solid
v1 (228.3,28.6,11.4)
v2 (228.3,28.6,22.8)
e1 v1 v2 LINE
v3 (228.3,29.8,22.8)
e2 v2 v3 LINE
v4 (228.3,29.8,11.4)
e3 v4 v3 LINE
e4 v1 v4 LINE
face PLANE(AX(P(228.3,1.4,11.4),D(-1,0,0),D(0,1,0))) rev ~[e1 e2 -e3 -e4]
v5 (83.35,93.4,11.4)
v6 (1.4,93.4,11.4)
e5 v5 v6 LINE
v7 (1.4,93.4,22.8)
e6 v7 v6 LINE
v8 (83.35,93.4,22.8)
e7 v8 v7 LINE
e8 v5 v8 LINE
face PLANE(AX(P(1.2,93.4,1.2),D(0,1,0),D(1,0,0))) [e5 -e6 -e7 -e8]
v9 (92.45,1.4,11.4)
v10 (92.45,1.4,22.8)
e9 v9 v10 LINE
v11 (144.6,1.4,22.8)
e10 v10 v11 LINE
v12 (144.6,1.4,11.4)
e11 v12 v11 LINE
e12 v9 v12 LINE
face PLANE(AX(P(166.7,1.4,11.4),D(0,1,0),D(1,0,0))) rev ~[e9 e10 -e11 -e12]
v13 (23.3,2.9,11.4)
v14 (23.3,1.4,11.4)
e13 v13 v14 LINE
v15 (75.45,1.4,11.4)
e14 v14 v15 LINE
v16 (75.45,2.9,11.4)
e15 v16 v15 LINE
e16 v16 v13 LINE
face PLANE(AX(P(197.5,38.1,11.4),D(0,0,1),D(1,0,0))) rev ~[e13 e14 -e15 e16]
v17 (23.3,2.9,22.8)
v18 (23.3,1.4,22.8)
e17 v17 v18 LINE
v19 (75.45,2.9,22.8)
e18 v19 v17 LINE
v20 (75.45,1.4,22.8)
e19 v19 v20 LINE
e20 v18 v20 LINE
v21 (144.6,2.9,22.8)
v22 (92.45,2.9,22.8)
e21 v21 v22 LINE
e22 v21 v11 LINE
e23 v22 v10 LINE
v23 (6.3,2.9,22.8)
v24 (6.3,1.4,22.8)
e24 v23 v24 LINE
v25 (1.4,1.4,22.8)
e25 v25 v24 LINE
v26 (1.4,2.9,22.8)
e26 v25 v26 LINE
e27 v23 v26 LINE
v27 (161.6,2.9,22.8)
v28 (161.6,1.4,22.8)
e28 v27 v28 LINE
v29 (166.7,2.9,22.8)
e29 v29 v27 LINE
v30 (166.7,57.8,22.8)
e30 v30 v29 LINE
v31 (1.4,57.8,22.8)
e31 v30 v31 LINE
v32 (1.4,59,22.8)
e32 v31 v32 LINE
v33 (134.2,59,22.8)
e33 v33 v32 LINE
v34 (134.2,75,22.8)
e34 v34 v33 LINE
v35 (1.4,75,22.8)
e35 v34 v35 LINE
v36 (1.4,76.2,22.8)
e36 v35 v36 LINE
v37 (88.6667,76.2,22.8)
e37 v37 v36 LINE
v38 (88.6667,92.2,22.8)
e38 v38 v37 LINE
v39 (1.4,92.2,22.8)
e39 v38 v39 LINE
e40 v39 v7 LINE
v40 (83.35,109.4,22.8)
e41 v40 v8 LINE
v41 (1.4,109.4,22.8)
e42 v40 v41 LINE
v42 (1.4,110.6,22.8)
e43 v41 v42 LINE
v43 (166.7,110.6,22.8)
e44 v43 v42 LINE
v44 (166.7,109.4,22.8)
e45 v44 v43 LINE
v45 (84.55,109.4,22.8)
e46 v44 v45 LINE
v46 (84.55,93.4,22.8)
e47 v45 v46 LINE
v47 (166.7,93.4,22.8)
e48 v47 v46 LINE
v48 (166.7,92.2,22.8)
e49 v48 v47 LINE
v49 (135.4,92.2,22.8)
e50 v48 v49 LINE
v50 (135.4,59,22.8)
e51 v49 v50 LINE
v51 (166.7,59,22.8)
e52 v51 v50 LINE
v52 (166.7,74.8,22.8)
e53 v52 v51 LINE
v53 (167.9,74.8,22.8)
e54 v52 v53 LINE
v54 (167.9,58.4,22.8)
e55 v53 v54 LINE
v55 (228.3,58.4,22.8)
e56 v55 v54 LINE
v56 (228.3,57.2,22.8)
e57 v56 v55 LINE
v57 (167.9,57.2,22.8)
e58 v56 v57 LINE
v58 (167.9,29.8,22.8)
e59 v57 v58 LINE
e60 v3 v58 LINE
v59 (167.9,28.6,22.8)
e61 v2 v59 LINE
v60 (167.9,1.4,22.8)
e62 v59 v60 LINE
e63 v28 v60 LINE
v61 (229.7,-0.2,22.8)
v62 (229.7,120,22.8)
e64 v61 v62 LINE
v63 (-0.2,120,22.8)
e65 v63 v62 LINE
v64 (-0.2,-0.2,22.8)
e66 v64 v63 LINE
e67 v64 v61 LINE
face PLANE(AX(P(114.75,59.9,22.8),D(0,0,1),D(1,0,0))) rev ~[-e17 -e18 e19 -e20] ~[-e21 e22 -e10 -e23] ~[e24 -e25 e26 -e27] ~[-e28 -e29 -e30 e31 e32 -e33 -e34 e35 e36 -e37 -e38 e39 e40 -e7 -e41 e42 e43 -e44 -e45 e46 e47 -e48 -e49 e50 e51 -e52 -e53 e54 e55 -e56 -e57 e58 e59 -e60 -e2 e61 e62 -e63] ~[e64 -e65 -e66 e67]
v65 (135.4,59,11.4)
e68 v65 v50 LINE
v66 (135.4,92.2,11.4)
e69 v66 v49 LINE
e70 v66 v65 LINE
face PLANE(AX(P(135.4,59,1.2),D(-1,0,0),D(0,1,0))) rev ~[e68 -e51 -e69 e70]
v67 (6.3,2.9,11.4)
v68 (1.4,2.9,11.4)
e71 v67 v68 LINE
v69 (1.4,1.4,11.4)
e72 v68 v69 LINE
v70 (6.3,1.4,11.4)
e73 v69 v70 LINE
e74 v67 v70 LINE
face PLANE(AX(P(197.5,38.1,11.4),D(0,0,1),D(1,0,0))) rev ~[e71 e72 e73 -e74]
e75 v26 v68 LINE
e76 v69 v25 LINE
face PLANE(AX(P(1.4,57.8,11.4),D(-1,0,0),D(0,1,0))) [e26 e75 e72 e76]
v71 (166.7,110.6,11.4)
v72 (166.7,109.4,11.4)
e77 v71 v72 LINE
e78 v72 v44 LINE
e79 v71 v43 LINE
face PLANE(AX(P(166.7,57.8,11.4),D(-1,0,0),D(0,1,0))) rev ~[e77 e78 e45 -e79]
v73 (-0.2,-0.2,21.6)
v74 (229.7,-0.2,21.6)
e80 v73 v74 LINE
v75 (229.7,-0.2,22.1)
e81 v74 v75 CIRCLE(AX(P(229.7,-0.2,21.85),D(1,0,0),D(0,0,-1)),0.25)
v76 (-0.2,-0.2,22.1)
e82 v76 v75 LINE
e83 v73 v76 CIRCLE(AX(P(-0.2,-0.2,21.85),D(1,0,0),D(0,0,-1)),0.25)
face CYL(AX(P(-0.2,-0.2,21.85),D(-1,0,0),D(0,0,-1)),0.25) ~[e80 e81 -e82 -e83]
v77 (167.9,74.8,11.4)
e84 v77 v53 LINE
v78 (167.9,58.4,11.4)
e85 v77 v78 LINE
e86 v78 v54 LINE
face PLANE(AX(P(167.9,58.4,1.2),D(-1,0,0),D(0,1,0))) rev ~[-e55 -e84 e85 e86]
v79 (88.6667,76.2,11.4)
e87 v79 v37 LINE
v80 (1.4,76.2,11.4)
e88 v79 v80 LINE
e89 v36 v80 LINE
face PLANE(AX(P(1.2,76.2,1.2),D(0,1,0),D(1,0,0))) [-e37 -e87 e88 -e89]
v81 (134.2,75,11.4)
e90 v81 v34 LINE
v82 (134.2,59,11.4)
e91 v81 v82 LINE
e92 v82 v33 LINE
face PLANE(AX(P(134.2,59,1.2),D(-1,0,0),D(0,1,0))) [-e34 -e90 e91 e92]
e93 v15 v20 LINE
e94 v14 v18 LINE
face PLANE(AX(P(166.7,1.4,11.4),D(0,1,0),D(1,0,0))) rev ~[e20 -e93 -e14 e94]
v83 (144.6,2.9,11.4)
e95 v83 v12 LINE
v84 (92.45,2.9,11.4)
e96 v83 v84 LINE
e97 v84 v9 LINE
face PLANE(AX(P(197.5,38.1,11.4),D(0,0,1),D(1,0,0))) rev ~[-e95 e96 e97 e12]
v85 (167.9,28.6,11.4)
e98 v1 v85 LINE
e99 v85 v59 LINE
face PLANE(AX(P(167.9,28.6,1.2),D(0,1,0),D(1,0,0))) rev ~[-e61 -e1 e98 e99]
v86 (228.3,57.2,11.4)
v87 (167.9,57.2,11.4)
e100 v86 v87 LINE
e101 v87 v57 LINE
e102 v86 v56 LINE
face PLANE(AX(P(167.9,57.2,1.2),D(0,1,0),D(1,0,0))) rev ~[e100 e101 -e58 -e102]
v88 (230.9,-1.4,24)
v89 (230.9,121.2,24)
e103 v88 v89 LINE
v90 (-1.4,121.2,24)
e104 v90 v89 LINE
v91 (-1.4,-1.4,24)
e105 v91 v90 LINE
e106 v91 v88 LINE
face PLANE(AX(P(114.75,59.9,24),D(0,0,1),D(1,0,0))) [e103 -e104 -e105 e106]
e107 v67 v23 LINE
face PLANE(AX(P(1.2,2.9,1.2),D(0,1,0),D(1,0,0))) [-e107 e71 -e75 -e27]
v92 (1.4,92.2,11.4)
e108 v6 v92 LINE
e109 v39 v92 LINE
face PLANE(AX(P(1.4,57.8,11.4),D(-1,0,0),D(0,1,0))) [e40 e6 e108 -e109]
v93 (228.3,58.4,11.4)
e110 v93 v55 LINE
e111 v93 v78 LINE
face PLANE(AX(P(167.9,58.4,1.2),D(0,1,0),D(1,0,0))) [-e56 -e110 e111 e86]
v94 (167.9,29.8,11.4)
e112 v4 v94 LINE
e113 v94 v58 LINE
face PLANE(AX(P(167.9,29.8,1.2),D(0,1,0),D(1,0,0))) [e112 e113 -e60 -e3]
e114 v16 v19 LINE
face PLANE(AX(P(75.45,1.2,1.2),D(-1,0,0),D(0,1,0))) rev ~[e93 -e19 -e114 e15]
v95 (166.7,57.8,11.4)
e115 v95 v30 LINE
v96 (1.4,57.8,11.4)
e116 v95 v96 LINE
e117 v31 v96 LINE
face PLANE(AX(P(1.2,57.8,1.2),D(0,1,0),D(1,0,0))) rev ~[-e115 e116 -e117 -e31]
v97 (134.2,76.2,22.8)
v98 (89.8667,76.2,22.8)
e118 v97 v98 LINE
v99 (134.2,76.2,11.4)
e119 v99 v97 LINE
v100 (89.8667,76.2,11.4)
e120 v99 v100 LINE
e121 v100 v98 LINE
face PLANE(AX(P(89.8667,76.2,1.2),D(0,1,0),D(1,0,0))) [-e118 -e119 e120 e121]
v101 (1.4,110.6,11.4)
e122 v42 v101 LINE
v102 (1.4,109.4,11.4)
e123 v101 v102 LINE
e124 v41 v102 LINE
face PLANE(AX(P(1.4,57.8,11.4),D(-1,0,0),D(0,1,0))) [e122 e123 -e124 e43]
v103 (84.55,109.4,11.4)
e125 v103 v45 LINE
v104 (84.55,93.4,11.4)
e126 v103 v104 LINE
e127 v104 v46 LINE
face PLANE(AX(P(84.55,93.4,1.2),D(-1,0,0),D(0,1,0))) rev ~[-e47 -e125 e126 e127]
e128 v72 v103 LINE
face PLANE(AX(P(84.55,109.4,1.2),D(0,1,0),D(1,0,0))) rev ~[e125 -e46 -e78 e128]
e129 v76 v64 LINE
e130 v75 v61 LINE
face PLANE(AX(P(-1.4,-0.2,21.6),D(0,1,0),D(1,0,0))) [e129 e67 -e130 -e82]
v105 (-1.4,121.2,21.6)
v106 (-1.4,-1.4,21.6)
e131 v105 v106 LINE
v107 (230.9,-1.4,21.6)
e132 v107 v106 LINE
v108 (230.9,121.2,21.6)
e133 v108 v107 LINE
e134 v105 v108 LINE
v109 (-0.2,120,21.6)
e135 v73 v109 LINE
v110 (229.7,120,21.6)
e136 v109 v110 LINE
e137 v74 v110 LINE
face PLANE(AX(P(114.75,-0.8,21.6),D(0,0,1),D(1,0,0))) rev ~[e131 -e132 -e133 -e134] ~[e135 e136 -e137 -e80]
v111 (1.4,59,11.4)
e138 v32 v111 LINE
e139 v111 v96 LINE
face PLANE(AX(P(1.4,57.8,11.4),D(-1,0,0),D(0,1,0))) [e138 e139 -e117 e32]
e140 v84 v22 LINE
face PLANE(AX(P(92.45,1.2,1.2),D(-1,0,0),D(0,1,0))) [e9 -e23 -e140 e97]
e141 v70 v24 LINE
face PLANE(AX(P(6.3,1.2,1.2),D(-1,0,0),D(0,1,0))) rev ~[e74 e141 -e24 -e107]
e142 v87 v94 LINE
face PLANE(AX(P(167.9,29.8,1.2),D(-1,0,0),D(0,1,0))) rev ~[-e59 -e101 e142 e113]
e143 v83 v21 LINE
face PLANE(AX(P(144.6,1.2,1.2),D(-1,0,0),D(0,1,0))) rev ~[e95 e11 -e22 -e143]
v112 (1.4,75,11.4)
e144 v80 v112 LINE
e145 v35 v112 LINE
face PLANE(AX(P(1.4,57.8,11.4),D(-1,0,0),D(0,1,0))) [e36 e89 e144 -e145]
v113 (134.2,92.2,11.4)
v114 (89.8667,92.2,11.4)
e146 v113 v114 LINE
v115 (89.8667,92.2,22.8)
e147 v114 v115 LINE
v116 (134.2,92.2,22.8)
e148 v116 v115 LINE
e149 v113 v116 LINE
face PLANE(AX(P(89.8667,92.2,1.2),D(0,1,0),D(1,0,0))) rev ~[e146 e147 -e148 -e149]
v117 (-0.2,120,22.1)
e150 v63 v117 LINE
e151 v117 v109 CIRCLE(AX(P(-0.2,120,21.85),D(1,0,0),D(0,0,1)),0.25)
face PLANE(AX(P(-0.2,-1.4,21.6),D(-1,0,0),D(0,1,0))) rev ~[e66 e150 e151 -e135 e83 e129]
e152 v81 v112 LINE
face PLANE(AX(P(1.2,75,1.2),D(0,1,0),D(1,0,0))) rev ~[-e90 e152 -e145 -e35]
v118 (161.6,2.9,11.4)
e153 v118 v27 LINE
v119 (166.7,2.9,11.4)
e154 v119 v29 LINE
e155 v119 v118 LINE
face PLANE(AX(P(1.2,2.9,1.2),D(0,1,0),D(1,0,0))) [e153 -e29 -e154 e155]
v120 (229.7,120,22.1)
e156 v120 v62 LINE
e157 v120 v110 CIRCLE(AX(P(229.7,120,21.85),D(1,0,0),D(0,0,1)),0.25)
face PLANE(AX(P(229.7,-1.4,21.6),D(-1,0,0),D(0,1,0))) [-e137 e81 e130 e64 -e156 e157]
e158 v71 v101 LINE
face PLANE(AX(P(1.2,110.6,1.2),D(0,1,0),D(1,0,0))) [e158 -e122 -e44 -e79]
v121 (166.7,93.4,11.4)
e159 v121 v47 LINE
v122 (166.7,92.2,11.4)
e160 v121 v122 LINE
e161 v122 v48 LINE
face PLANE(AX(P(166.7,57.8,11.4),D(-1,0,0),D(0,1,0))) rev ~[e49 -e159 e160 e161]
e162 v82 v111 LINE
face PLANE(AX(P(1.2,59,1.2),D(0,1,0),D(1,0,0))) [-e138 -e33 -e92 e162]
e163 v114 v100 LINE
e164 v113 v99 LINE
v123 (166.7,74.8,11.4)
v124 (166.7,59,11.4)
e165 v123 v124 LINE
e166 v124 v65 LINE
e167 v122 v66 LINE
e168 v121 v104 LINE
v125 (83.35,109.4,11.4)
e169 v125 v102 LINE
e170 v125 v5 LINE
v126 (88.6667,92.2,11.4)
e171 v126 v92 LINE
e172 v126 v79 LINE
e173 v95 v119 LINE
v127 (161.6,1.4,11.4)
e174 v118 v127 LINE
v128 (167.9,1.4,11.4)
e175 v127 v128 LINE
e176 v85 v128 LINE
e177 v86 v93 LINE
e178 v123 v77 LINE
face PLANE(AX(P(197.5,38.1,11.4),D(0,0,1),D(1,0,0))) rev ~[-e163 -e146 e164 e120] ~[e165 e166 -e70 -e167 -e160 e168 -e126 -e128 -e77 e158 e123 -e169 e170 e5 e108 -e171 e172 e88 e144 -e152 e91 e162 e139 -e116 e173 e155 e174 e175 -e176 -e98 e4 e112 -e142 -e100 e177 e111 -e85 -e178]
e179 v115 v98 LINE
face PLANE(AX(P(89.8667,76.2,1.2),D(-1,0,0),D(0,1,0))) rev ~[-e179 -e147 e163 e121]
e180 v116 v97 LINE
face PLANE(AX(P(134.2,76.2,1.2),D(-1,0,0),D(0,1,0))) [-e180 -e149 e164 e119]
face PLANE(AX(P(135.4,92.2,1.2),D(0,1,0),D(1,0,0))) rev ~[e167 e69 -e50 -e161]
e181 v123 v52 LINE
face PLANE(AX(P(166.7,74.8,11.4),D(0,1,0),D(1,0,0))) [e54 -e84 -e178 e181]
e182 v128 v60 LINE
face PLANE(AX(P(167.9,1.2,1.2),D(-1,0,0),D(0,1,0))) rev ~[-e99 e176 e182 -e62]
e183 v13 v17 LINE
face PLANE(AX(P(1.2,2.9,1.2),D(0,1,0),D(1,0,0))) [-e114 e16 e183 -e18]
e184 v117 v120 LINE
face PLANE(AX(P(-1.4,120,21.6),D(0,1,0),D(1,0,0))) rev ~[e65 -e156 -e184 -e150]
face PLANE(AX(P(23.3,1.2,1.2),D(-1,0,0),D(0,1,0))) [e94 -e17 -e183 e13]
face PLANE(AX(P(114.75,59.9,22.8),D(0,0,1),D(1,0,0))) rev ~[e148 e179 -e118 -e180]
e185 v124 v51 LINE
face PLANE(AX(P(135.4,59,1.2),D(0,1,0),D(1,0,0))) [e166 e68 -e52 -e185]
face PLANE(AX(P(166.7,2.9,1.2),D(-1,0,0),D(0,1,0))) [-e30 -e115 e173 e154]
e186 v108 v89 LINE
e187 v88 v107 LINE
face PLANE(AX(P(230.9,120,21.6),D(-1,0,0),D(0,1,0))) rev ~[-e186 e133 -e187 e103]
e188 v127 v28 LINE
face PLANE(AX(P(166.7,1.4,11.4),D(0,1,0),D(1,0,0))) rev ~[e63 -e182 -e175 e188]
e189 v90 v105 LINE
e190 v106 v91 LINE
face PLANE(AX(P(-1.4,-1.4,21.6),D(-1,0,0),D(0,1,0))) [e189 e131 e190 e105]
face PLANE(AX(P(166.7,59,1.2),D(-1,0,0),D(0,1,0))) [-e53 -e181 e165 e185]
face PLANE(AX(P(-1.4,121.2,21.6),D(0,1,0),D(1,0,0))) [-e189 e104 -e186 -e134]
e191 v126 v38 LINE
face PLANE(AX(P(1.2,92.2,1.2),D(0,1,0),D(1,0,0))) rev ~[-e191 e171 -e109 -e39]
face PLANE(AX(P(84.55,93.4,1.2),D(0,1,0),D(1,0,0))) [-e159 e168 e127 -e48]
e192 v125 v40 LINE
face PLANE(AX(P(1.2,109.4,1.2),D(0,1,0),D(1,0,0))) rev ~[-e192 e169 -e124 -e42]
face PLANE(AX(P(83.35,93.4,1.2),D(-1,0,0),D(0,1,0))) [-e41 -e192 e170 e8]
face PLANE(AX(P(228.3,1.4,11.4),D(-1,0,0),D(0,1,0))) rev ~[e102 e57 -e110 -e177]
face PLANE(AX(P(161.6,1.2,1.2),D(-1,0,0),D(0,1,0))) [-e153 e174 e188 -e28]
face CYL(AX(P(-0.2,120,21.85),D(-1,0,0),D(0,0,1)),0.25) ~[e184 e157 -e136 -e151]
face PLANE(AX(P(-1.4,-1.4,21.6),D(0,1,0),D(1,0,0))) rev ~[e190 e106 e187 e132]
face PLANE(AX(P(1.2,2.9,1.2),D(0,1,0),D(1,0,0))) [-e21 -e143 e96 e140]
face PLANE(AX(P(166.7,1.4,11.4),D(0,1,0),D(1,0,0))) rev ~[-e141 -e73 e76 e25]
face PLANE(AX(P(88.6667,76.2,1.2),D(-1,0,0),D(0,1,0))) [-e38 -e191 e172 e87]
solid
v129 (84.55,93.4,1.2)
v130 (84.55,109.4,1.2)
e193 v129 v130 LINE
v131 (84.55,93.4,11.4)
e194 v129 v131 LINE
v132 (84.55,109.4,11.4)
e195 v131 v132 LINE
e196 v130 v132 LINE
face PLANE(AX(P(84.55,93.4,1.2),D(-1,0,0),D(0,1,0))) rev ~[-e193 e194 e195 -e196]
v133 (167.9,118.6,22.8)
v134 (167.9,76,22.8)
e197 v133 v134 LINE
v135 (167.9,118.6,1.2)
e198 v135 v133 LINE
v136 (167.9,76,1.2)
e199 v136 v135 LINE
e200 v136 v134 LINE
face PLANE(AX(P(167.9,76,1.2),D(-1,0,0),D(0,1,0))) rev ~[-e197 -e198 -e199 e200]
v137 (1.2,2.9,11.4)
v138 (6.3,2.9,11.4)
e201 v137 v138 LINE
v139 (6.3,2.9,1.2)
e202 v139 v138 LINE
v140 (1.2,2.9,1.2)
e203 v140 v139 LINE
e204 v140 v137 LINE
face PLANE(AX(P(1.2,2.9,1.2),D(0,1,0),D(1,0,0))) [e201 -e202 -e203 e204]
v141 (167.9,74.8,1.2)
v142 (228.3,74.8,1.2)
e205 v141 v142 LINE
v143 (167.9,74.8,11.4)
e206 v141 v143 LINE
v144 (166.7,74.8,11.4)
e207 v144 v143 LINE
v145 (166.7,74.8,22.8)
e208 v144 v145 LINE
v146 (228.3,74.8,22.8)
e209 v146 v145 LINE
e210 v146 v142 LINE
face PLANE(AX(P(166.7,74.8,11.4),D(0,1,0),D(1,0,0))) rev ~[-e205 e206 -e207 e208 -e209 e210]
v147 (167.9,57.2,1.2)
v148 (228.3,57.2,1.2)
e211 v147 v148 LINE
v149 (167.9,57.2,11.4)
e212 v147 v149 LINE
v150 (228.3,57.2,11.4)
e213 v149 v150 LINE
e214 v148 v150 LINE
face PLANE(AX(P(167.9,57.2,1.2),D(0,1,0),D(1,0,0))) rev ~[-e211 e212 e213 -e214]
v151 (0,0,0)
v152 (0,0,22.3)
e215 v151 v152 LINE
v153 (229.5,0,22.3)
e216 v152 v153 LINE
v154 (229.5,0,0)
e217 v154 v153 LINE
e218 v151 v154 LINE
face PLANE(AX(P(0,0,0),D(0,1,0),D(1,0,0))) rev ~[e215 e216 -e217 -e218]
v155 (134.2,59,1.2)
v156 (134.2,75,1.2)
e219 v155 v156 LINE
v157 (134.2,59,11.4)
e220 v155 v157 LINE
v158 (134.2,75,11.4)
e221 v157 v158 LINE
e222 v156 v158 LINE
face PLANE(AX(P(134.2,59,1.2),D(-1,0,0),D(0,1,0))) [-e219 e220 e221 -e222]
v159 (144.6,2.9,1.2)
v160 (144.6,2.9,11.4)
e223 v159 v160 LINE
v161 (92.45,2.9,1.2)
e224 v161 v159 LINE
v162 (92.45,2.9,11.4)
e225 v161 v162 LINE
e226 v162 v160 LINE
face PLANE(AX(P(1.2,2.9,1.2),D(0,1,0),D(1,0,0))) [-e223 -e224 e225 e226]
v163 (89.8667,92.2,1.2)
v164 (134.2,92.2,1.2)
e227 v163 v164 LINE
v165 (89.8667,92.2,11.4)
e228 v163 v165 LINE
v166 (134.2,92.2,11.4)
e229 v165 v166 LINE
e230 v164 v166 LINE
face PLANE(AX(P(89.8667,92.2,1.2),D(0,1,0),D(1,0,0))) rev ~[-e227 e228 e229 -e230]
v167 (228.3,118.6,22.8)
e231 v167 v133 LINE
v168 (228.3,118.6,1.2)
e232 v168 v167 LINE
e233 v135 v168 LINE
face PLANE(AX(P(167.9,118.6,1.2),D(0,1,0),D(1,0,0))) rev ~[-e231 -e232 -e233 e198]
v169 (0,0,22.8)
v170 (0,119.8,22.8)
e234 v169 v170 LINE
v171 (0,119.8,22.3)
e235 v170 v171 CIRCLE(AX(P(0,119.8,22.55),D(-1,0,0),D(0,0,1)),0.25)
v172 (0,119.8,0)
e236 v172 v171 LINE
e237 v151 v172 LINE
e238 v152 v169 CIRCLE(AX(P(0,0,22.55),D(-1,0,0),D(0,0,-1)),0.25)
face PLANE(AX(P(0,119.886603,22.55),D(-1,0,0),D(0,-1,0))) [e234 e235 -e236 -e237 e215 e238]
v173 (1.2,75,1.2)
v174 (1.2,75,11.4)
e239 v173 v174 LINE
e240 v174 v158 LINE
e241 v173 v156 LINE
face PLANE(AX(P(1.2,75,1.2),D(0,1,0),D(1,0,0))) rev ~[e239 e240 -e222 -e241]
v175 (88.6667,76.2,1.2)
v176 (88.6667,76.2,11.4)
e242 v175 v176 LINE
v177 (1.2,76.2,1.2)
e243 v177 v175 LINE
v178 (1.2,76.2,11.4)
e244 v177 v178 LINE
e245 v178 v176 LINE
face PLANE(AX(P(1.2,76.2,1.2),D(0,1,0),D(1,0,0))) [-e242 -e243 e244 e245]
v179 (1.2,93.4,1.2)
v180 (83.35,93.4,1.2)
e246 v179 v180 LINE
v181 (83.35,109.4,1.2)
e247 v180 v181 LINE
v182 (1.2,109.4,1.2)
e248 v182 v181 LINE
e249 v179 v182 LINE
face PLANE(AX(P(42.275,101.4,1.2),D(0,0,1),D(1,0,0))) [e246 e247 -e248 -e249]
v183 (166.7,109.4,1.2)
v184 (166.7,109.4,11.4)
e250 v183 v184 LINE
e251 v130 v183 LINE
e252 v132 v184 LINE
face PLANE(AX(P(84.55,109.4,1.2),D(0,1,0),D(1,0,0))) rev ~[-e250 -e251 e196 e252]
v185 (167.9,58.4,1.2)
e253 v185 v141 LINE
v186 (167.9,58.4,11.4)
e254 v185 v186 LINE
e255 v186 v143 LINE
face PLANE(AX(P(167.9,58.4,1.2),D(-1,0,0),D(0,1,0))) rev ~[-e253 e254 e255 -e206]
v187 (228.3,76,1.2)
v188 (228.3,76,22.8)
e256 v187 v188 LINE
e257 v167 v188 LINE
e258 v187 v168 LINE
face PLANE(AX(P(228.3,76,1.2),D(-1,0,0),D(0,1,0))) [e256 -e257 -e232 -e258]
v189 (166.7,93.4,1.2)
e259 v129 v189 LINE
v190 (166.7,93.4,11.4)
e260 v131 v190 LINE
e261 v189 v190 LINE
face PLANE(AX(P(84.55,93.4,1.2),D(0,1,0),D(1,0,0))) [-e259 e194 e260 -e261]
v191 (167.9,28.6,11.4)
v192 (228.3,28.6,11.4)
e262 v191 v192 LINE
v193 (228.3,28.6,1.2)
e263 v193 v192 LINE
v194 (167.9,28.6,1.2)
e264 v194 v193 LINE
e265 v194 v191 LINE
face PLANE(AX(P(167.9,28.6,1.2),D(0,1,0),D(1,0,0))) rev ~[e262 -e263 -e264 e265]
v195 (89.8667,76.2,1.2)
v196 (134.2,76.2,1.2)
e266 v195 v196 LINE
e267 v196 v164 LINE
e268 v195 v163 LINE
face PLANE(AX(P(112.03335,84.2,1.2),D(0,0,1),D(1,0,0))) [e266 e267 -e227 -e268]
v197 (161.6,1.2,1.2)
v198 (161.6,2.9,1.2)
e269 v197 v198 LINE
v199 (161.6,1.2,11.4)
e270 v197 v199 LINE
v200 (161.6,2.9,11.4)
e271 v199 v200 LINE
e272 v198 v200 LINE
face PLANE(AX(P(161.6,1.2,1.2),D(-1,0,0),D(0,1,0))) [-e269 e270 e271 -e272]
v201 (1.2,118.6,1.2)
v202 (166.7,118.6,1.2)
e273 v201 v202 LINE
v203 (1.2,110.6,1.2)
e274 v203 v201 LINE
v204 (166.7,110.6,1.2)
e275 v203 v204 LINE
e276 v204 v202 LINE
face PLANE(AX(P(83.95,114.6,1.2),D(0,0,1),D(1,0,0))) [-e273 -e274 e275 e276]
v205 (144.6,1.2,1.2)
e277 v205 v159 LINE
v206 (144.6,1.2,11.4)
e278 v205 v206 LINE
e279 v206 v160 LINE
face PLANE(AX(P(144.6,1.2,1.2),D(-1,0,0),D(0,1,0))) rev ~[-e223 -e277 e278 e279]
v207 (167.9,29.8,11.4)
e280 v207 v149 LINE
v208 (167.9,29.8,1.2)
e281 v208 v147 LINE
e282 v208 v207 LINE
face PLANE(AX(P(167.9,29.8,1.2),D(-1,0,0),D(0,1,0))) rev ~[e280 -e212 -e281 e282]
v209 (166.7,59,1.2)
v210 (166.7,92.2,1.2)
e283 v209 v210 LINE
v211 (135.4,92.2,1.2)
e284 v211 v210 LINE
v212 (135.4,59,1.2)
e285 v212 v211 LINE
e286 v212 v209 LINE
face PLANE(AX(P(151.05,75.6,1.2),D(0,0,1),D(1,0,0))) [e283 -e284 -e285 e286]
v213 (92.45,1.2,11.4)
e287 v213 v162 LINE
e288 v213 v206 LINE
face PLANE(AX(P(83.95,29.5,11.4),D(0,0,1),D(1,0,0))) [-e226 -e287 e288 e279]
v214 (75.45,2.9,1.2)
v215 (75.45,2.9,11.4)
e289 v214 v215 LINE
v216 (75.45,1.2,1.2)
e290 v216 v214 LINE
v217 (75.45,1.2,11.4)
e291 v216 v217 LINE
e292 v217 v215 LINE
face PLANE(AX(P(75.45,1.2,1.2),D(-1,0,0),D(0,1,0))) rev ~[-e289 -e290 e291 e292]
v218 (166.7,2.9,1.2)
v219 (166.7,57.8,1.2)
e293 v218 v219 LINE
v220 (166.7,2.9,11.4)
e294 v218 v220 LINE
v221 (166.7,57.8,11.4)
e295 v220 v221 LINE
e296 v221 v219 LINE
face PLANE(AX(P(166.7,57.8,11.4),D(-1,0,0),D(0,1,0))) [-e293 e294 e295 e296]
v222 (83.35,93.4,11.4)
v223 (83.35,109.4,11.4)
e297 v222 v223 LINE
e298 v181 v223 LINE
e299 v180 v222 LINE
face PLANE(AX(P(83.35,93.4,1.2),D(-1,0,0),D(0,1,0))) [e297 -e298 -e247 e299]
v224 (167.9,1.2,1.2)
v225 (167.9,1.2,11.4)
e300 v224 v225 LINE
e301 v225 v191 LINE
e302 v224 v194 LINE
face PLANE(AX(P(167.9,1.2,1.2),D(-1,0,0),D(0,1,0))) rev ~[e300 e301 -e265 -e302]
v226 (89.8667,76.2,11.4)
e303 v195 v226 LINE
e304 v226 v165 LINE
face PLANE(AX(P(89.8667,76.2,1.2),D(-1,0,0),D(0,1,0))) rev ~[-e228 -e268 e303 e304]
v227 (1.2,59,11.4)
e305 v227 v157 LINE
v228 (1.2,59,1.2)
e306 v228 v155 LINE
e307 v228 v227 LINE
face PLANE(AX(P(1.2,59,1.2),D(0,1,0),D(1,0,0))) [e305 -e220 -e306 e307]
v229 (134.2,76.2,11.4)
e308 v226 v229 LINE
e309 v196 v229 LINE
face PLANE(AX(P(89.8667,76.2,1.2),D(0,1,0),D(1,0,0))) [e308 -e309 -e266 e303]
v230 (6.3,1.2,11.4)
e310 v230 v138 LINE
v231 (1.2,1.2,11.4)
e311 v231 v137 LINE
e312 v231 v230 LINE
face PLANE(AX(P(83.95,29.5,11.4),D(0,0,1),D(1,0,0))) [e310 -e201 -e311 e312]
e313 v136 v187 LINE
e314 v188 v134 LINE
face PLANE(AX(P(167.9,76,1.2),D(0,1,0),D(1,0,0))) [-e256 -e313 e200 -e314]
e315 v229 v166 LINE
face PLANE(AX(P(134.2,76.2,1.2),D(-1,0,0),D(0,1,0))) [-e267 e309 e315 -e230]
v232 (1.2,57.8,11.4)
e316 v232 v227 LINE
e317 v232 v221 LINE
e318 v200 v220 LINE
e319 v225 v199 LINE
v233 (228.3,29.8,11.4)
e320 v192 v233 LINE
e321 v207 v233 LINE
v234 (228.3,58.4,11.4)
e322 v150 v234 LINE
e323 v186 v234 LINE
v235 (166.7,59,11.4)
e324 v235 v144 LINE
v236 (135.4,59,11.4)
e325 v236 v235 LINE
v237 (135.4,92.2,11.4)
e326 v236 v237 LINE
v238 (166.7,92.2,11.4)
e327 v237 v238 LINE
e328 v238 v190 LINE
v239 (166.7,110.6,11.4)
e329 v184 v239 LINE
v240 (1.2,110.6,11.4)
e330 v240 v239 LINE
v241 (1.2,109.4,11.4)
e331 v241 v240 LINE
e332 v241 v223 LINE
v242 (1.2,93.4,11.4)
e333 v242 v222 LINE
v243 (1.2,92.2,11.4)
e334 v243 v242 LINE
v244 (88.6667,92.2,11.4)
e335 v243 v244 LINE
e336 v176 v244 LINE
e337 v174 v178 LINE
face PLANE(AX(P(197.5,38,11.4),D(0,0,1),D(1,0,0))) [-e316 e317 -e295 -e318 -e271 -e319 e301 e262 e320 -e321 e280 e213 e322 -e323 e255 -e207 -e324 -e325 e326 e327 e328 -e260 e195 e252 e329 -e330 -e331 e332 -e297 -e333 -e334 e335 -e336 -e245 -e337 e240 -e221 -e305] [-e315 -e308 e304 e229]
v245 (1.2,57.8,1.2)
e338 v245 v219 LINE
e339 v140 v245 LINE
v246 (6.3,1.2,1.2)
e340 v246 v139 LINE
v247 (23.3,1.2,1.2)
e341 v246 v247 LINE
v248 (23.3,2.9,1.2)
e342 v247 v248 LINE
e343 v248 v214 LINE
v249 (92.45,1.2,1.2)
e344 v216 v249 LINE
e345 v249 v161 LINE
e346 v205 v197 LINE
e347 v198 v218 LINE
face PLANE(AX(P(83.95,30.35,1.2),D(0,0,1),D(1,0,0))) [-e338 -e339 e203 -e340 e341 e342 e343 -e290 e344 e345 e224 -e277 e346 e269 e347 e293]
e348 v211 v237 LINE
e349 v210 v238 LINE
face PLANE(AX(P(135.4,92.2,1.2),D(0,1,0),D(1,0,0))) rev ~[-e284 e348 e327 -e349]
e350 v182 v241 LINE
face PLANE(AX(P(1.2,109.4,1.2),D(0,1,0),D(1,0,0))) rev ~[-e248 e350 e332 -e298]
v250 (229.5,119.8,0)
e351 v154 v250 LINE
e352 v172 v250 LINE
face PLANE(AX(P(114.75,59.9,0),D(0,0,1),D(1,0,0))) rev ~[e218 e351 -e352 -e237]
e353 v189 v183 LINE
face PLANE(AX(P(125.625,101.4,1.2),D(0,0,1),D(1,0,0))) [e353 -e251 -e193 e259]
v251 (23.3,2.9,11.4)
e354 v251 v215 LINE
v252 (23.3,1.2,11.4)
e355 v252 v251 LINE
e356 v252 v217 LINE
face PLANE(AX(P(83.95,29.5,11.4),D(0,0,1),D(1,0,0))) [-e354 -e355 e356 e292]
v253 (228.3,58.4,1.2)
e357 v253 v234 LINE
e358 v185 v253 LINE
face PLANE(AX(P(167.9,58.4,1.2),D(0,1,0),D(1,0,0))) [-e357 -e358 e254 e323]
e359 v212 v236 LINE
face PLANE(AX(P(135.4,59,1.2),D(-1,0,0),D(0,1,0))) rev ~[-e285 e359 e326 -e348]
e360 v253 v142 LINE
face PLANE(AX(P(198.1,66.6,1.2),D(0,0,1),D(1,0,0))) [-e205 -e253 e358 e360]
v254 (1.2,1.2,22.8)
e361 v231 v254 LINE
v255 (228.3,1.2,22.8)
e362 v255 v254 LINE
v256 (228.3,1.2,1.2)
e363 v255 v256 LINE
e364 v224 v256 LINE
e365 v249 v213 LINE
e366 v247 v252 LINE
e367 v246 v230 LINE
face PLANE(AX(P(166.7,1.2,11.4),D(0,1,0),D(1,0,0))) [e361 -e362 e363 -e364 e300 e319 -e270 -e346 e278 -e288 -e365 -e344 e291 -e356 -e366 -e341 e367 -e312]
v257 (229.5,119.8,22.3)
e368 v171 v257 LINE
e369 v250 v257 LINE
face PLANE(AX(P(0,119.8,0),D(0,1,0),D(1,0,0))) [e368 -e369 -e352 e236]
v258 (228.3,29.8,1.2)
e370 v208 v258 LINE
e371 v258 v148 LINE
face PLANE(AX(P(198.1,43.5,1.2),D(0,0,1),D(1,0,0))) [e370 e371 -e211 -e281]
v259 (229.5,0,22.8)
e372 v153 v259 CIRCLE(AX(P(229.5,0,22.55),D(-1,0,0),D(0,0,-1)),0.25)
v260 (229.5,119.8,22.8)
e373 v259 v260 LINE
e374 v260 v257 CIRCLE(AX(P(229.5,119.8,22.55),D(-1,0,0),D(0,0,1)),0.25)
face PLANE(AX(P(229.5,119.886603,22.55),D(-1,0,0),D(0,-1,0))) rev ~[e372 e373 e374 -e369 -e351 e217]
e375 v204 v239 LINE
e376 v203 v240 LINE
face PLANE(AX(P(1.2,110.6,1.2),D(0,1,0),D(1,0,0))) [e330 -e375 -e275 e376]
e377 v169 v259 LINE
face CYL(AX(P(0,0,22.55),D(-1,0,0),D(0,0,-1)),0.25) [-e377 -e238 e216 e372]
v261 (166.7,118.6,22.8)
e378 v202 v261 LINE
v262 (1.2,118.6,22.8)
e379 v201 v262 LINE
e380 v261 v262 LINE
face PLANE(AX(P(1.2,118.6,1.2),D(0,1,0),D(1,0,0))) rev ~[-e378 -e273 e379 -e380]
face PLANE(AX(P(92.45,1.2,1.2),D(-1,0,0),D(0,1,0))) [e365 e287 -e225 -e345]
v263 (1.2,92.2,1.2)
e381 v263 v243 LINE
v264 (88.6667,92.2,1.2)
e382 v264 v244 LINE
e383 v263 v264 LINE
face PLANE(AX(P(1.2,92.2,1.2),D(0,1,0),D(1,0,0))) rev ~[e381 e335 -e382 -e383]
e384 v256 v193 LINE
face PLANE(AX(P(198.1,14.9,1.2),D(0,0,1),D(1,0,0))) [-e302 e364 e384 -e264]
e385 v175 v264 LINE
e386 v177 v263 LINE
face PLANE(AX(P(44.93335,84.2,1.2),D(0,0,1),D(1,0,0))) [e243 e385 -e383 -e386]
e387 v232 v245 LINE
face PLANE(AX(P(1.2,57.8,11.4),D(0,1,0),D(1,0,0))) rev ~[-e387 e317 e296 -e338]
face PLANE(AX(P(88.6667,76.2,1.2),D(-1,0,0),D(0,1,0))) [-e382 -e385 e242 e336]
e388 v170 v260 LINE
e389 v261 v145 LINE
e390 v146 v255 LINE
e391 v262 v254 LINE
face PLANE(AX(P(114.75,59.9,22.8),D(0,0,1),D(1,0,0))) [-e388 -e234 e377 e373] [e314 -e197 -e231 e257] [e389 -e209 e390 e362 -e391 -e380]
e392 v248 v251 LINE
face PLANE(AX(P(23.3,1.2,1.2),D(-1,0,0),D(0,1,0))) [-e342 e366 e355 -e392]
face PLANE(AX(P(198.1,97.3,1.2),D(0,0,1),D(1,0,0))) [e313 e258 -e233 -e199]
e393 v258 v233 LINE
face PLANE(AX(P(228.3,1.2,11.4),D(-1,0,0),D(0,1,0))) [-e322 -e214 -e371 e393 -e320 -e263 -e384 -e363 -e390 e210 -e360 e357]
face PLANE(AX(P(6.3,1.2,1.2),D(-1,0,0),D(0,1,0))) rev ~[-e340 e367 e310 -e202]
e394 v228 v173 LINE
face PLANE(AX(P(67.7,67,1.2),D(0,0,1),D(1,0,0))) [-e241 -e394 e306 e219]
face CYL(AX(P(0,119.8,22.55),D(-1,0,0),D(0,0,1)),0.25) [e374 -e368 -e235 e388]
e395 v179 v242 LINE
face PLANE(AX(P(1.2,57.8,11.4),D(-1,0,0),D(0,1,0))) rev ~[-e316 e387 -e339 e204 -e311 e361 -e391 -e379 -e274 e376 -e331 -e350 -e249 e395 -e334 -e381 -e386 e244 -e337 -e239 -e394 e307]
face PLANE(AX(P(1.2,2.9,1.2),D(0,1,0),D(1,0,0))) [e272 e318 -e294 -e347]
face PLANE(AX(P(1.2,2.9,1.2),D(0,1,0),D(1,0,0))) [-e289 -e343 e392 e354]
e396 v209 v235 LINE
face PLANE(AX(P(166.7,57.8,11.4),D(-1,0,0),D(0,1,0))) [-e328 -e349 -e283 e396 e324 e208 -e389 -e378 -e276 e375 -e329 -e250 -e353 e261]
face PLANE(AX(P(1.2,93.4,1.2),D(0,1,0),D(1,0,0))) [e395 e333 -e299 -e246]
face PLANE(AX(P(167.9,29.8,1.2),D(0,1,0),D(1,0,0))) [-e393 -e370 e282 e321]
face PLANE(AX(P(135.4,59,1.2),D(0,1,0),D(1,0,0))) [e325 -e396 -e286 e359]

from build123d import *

# Parameters (mm, degrees)
EXTRUDE_DEPTH    = 229.5
CUBE005_W        = 165.5
CUBE005_H        = 56.6
CUBE005_DEPTH    = 22.8
CUBE007_W        = 87.4667
CUBE007_H        = 16
CUBE007_DEPTH    = 22.8
CUBE008_W        = 31.3
CUBE008_H        = 33.2
CUBE008_DEPTH    = 22.8
CUBE009_W        = 44.3333
CUBE009_H        = 16
CUBE009_DEPTH    = 22.8
CUBE010_W        = 82.15
CUBE010_H        = 16
CUBE010_DEPTH    = 22.8
CUBE011_W        = 82.15
CUBE011_H        = 16
CUBE011_DEPTH    = 22.8
CUBE012_W        = 165.5
CUBE012_H        = 8
CUBE012_DEPTH    = 22.8
CUBE006_W        = 133
CUBE006_H        = 16
CUBE006_DEPTH    = 22.8
CUBE013_W        = 165.5
CUBE013_H        = 57.8
CUBE013_DEPTH    = 22.8
CUBE015_W        = 60.4
CUBE015_H        = 27.4
CUBE015_DEPTH    = 22.8
CUBE016_W        = 60.4
CUBE016_H        = 16.4
CUBE016_DEPTH    = 22.8
CUBE014_W        = 60.4
CUBE014_H        = 27.4
CUBE014_DEPTH    = 22.8
CUBE017_W        = 61.6
CUBE017_H        = 73.6
CUBE017_DEPTH    = 22.8
CUBE018_W        = 60.4
CUBE018_H        = 42.6
CUBE018_DEPTH    = 22.8
CUBE002_W        = 17
CUBE002_H        = 1.7
CUBE002_DEPTH    = 22.8
CUBE003_W        = 17
CUBE003_H        = 1.7
CUBE003_DEPTH    = 22.8
CUBE004_W        = 17
CUBE004_H        = 1.7
CUBE004_DEPTH    = 22.8
CUBE001_W        = 165.5
CUBE001_H        = 54.9
CUBE001_DEPTH    = 22.8
CUBE_W           = 229.5
CUBE_H           = 119.8
CUBE_DEPTH       = 22.8
EXTRUDE001_DEPTH = 229.9
CUBE020_W        = 232.3
CUBE020_H        = 1.2
CUBE020_DEPTH    = 1.2
CUBE021_W        = 1.2
CUBE021_H        = 122.6
CUBE021_DEPTH    = 1.2
CUBE022_W        = 232.3
CUBE022_H        = 1.2
CUBE022_DEPTH    = 1.2
CUBE023_W        = 1.2
CUBE023_H        = 122.6
CUBE023_DEPTH    = 1.2
CUBE033_W        = 87.4667
CUBE033_H        = 16
CUBE033_DEPTH    = 22.8
CUBE034_W        = 31.3
CUBE034_H        = 33.2
CUBE034_DEPTH    = 22.8
CUBE035_W        = 44.3333
CUBE035_H        = 16
CUBE035_DEPTH    = 22.8
CUBE036_W        = 82.15
CUBE036_H        = 16
CUBE036_DEPTH    = 22.8
CUBE037_W        = 82.15
CUBE037_H        = 16
CUBE037_DEPTH    = 22.8
CUBE038_W        = 165.5
CUBE038_H        = 8
CUBE038_DEPTH    = 22.8
CUBE032_W        = 133
CUBE032_H        = 16
CUBE032_DEPTH    = 22.8
CUBE040_W        = 60.4
CUBE040_H        = 27.4
CUBE040_DEPTH    = 22.8
CUBE041_W        = 60.4
CUBE041_H        = 16.4
CUBE041_DEPTH    = 22.8
CUBE039_W        = 60.4
CUBE039_H        = 27.4
CUBE039_DEPTH    = 22.8
CUBE042_W        = 60.4
CUBE042_H        = 42.6
CUBE042_DEPTH    = 22.8
CUBE029_W        = 17
CUBE029_H        = 1.7
CUBE029_DEPTH    = 22.8
CUBE030_W        = 17
CUBE030_H        = 1.7
CUBE030_DEPTH    = 22.8
CUBE031_W        = 17
CUBE031_H        = 1.7
CUBE031_DEPTH    = 22.8
CUBE028_W        = 165.5
CUBE028_H        = 54.9
CUBE028_DEPTH    = 22.8
CUBE027_W        = 229.5
CUBE027_H        = 119.8
CUBE027_DEPTH    = 22.8
CUBE025_W        = 165.3
CUBE025_H        = 57.8
CUBE025_DEPTH    = 22.8
CUBE026_W        = 61.6
CUBE026_H        = 73.4
CUBE026_DEPTH    = 22.8
CUBE024_W        = 165.3
CUBE024_H        = 56.4
CUBE024_DEPTH    = 22.8
CUBE019_W        = 232.3
CUBE019_H        = 122.6
CUBE019_DEPTH    = 1.2


with BuildPart() as extrude_body:
    # Sketch (on Face1 of difference) → Extrude (new body)
    with BuildSketch(Plane(origin=(0, 0, 0), x_dir=(0, -1, 0), z_dir=(-1, 0, 0))):
        with BuildLine():
            ThreePointArc((0, 22.3), (0.25, 22.55), (0, 22.8))
            Line((0, 22.8), (0, 22.3))
        make_face()
        with BuildLine():
            ThreePointArc((-119.8, 22.8), (-120.05, 22.55), (-119.8, 22.3))
            Line((-119.8, 22.3), (-119.8, 22.8))
        make_face()
    extrude(amount=-EXTRUDE_DEPTH)


with BuildPart() as cube005:
    # cube005 → cube005 (new body)
    with BuildSketch(Plane(origin=(1.2, 1.2, 11.4), x_dir=(1, 0, 0), z_dir=(0, 0, 1))):
        with Locations((82.75, 28.3)):
            Rectangle(CUBE005_W, CUBE005_H)
    extrude(amount=CUBE005_DEPTH)


with BuildPart() as cube007:
    # cube007 → cube007 (new body)
    with BuildSketch(Plane(origin=(0, 17.2, 0), x_dir=(1, 0, 0), z_dir=(0, 0, 1))):
        with Locations((43.73335, 8)):
            Rectangle(CUBE007_W, CUBE007_H)
    extrude(amount=CUBE007_DEPTH)


with BuildPart() as cube008:
    # cube008 → cube008 (new body)
    with BuildSketch(Plane(origin=(134.2, 0, 0), x_dir=(1, 0, 0), z_dir=(0, 0, 1))):
        with Locations((15.65, 16.6)):
            Rectangle(CUBE008_W, CUBE008_H)
    extrude(amount=CUBE008_DEPTH)


with BuildPart() as cube009:
    # cube009 → cube009 (new body)
    with BuildSketch(Plane(origin=(88.6667, 17.2, 0), x_dir=(1, 0, 0), z_dir=(0, 0, 1))):
        with Locations((22.16665, 8)):
            Rectangle(CUBE009_W, CUBE009_H)
    extrude(amount=CUBE009_DEPTH)


with BuildPart() as cube010:
    # cube010 → cube010 (new body)
    with BuildSketch(Plane(origin=(0, 34.4, 0), x_dir=(1, 0, 0), z_dir=(0, 0, 1))):
        with Locations((41.075, 8)):
            Rectangle(CUBE010_W, CUBE010_H)
    extrude(amount=CUBE010_DEPTH)


with BuildPart() as cube011:
    # cube011 → cube011 (new body)
    with BuildSketch(Plane(origin=(83.35, 34.4, 0), x_dir=(1, 0, 0), z_dir=(0, 0, 1))):
        with Locations((41.075, 8)):
            Rectangle(CUBE011_W, CUBE011_H)
    extrude(amount=CUBE011_DEPTH)


with BuildPart() as cube012:
    # cube012 → cube012 (new body)
    with BuildSketch(Plane(origin=(0, 51.6, 0), x_dir=(1, 0, 0), z_dir=(0, 0, 1))):
        with Locations((82.75, 4)):
            Rectangle(CUBE012_W, CUBE012_H)
    extrude(amount=CUBE012_DEPTH)


with BuildPart() as matrix_union001:
    # cube006 → cube006 (new body)
    with BuildSketch(Plane.XY):
        with Locations((66.5, 8)):
            Rectangle(CUBE006_W, CUBE006_H)
    extrude(amount=CUBE006_DEPTH)

    # Matrix_Union001: union cube007, cube008, cube009, cube010, cube011, cube012
    add(cube007.part)
    add(cube008.part)
    add(cube009.part)
    add(cube010.part)
    add(cube011.part)
    add(cube012.part)


with BuildPart() as matrix_union001_1:
    # Matrix_Union001 placement: moved
    add(matrix_union001.part.moved(Location((1.2, 59, 1.2))))


with BuildPart() as cube013:
    # cube013 → cube013 (new body)
    with BuildSketch(Plane(origin=(1.2, 57.8, 11.4), x_dir=(1, 0, 0), z_dir=(0, 0, 1))):
        with Locations((82.75, 28.9)):
            Rectangle(CUBE013_W, CUBE013_H)
    extrude(amount=CUBE013_DEPTH)


with BuildPart() as cube015:
    # cube015 → cube015 (new body)
    with BuildSketch(Plane(origin=(0, 28.6, 0), x_dir=(1, 0, 0), z_dir=(0, 0, 1))):
        with Locations((30.2, 13.7)):
            Rectangle(CUBE015_W, CUBE015_H)
    extrude(amount=CUBE015_DEPTH)


with BuildPart() as cube016:
    # cube016 → cube016 (new body)
    with BuildSketch(Plane(origin=(0, 57.2, 0), x_dir=(1, 0, 0), z_dir=(0, 0, 1))):
        with Locations((30.2, 8.2)):
            Rectangle(CUBE016_W, CUBE016_H)
    extrude(amount=CUBE016_DEPTH)


with BuildPart() as matrix_union002:
    # cube014 → cube014 (new body)
    with BuildSketch(Plane.XY):
        with Locations((30.2, 13.7)):
            Rectangle(CUBE014_W, CUBE014_H)
    extrude(amount=CUBE014_DEPTH)

    # Matrix_Union002: union cube015, cube016
    add(cube015.part)
    add(cube016.part)


with BuildPart() as matrix_union002_1:
    # Matrix_Union002 placement: moved
    add(matrix_union002.part.moved(Location((167.9, 1.2, 1.2))))


with BuildPart() as cube017:
    # cube017 → cube017 (new body)
    with BuildSketch(Plane(origin=(166.7, 1.2, 11.4), x_dir=(1, 0, 0), z_dir=(0, 0, 1))):
        with Locations((30.8, 36.8)):
            Rectangle(CUBE017_W, CUBE017_H)
    extrude(amount=CUBE017_DEPTH)


with BuildPart() as cube018:
    # cube018 → cube018 (new body)
    with BuildSketch(Plane(origin=(167.9, 76, 1.2), x_dir=(1, 0, 0), z_dir=(0, 0, 1))):
        with Locations((30.2, 21.3)):
            Rectangle(CUBE018_W, CUBE018_H)
    extrude(amount=CUBE018_DEPTH)


with BuildPart() as cube002:
    # cube002 → cube002 (new body)
    with BuildSketch(Plane(origin=(5.1, -1.7, 0), x_dir=(1, 0, 0), z_dir=(0, 0, 1))):
        with Locations((8.5, 0.85)):
            Rectangle(CUBE002_W, CUBE002_H)
    extrude(amount=CUBE002_DEPTH)


with BuildPart() as cube003:
    # cube003 → cube003 (new body)
    with BuildSketch(Plane(origin=(74.25, -1.7, 0), x_dir=(1, 0, 0), z_dir=(0, 0, 1))):
        with Locations((8.5, 0.85)):
            Rectangle(CUBE003_W, CUBE003_H)
    extrude(amount=CUBE003_DEPTH)


with BuildPart() as cube004:
    # cube004 → cube004 (new body)
    with BuildSketch(Plane(origin=(143.4, -1.7, 0), x_dir=(1, 0, 0), z_dir=(0, 0, 1))):
        with Locations((8.5, 0.85)):
            Rectangle(CUBE004_W, CUBE004_H)
    extrude(amount=CUBE004_DEPTH)


with BuildPart() as union:
    # cube001 → cube001 (new body)
    with BuildSketch(Plane.XY):
        with Locations((82.75, 27.45)):
            Rectangle(CUBE001_W, CUBE001_H)
    extrude(amount=CUBE001_DEPTH)

    # Matrix_Union: union cube002, cube003, cube004
    add(cube002.part)
    add(cube003.part)
    add(cube004.part)


with BuildPart() as union_1:
    # Matrix_Union placement: moved
    add(union.part.moved(Location((1.2, 2.9, 1.2))))

    # union: union cube005, Matrix_Union001, cube013, Matrix_Union002, cube017, cube018
    add(cube005.part)
    add(matrix_union001_1.part)
    add(cube013.part)
    add(matrix_union002_1.part)
    add(cube017.part)
    add(cube018.part)


with BuildPart() as fusion:
    # cube → cube (new body)
    with BuildSketch(Plane.XY):
        with Locations((114.75, 59.9)):
            Rectangle(CUBE_W, CUBE_H)
    extrude(amount=CUBE_DEPTH)

    # difference: cut union
    add(union_1.part, mode=Mode.SUBTRACT)

    # Fusion: union Extrude body
    add(extrude_body.part)


with BuildPart() as extrude001:
    # Sketch001 (on Face26 of Group) → Extrude001 (new body)
    with BuildSketch(Plane.YZ.offset(-0.2)):
        with BuildLine():
            ThreePointArc((120, 22.1), (119.75, 21.85), (120, 21.6))
            Line((120, 22.1), (120, 21.6))
        make_face()
        with BuildLine():
            ThreePointArc((-0.2, 21.6), (0.05, 21.85), (-0.2, 22.1))
            Line((-0.2, 22.1), (-0.2, 21.6))
        make_face()
    extrude(amount=EXTRUDE001_DEPTH)


with BuildPart() as cube020:
    # cube020 → cube020 (new body)
    with BuildSketch(Plane(origin=(-1.4, -1.4, 21.6), x_dir=(1, 0, 0), z_dir=(0, 0, 1))):
        with Locations((116.15, 0.6)):
            Rectangle(CUBE020_W, CUBE020_H)
    extrude(amount=CUBE020_DEPTH)


with BuildPart() as cube021:
    # cube021 → cube021 (new body)
    with BuildSketch(Plane(origin=(-1.4, -1.4, 21.6), x_dir=(1, 0, 0), z_dir=(0, 0, 1))):
        with Locations((0.6, 61.3)):
            Rectangle(CUBE021_W, CUBE021_H)
    extrude(amount=CUBE021_DEPTH)


with BuildPart() as cube022:
    # cube022 → cube022 (new body)
    with BuildSketch(Plane(origin=(-1.4, 120, 21.6), x_dir=(1, 0, 0), z_dir=(0, 0, 1))):
        with Locations((116.15, 0.6)):
            Rectangle(CUBE022_W, CUBE022_H)
    extrude(amount=CUBE022_DEPTH)


with BuildPart() as cube023:
    # cube023 → cube023 (new body)
    with BuildSketch(Plane(origin=(229.7, -1.4, 21.6), x_dir=(1, 0, 0), z_dir=(0, 0, 1))):
        with Locations((0.6, 61.3)):
            Rectangle(CUBE023_W, CUBE023_H)
    extrude(amount=CUBE023_DEPTH)


with BuildPart() as cube033:
    # cube033 → cube033 (new body)
    with BuildSketch(Plane(origin=(0, 17.2, 0), x_dir=(1, 0, 0), z_dir=(0, 0, 1))):
        with Locations((43.73335, 8)):
            Rectangle(CUBE033_W, CUBE033_H)
    extrude(amount=CUBE033_DEPTH)


with BuildPart() as cube034:
    # cube034 → cube034 (new body)
    with BuildSketch(Plane(origin=(134.2, 0, 0), x_dir=(1, 0, 0), z_dir=(0, 0, 1))):
        with Locations((15.65, 16.6)):
            Rectangle(CUBE034_W, CUBE034_H)
    extrude(amount=CUBE034_DEPTH)


with BuildPart() as cube035:
    # cube035 → cube035 (new body)
    with BuildSketch(Plane(origin=(88.6667, 17.2, 0), x_dir=(1, 0, 0), z_dir=(0, 0, 1))):
        with Locations((22.16665, 8)):
            Rectangle(CUBE035_W, CUBE035_H)
    extrude(amount=CUBE035_DEPTH)


with BuildPart() as cube036:
    # cube036 → cube036 (new body)
    with BuildSketch(Plane(origin=(0, 34.4, 0), x_dir=(1, 0, 0), z_dir=(0, 0, 1))):
        with Locations((41.075, 8)):
            Rectangle(CUBE036_W, CUBE036_H)
    extrude(amount=CUBE036_DEPTH)


with BuildPart() as cube037:
    # cube037 → cube037 (new body)
    with BuildSketch(Plane(origin=(83.35, 34.4, 0), x_dir=(1, 0, 0), z_dir=(0, 0, 1))):
        with Locations((41.075, 8)):
            Rectangle(CUBE037_W, CUBE037_H)
    extrude(amount=CUBE037_DEPTH)


with BuildPart() as cube038:
    # cube038 → cube038 (new body)
    with BuildSketch(Plane(origin=(0, 51.6, 0), x_dir=(1, 0, 0), z_dir=(0, 0, 1))):
        with Locations((82.75, 4)):
            Rectangle(CUBE038_W, CUBE038_H)
    extrude(amount=CUBE038_DEPTH)


with BuildPart() as matrix_union004:
    # cube032 → cube032 (new body)
    with BuildSketch(Plane.XY):
        with Locations((66.5, 8)):
            Rectangle(CUBE032_W, CUBE032_H)
    extrude(amount=CUBE032_DEPTH)

    # Matrix_Union004: union cube033, cube034, cube035, cube036, cube037, cube038
    add(cube033.part)
    add(cube034.part)
    add(cube035.part)
    add(cube036.part)
    add(cube037.part)
    add(cube038.part)


with BuildPart() as matrix_union004_1:
    # Matrix_Union004 placement: moved
    add(matrix_union004.part.moved(Location((1.2, 59, 1.2))))


with BuildPart() as cube040:
    # cube040 → cube040 (new body)
    with BuildSketch(Plane(origin=(0, 28.6, 0), x_dir=(1, 0, 0), z_dir=(0, 0, 1))):
        with Locations((30.2, 13.7)):
            Rectangle(CUBE040_W, CUBE040_H)
    extrude(amount=CUBE040_DEPTH)


with BuildPart() as cube041:
    # cube041 → cube041 (new body)
    with BuildSketch(Plane(origin=(0, 57.2, 0), x_dir=(1, 0, 0), z_dir=(0, 0, 1))):
        with Locations((30.2, 8.2)):
            Rectangle(CUBE041_W, CUBE041_H)
    extrude(amount=CUBE041_DEPTH)


with BuildPart() as matrix_union005:
    # cube039 → cube039 (new body)
    with BuildSketch(Plane.XY):
        with Locations((30.2, 13.7)):
            Rectangle(CUBE039_W, CUBE039_H)
    extrude(amount=CUBE039_DEPTH)

    # Matrix_Union005: union cube040, cube041
    add(cube040.part)
    add(cube041.part)


with BuildPart() as matrix_union005_1:
    # Matrix_Union005 placement: moved
    add(matrix_union005.part.moved(Location((167.9, 1.2, 1.2))))


with BuildPart() as cube042:
    # cube042 → cube042 (new body)
    with BuildSketch(Plane(origin=(167.9, 76, 1.2), x_dir=(1, 0, 0), z_dir=(0, 0, 1))):
        with Locations((30.2, 21.3)):
            Rectangle(CUBE042_W, CUBE042_H)
    extrude(amount=CUBE042_DEPTH)


with BuildPart() as cube029:
    # cube029 → cube029 (new body)
    with BuildSketch(Plane(origin=(5.1, -1.7, 0), x_dir=(1, 0, 0), z_dir=(0, 0, 1))):
        with Locations((8.5, 0.85)):
            Rectangle(CUBE029_W, CUBE029_H)
    extrude(amount=CUBE029_DEPTH)


with BuildPart() as cube030:
    # cube030 → cube030 (new body)
    with BuildSketch(Plane(origin=(74.25, -1.7, 0), x_dir=(1, 0, 0), z_dir=(0, 0, 1))):
        with Locations((8.5, 0.85)):
            Rectangle(CUBE030_W, CUBE030_H)
    extrude(amount=CUBE030_DEPTH)


with BuildPart() as cube031:
    # cube031 → cube031 (new body)
    with BuildSketch(Plane(origin=(143.4, -1.7, 0), x_dir=(1, 0, 0), z_dir=(0, 0, 1))):
        with Locations((8.5, 0.85)):
            Rectangle(CUBE031_W, CUBE031_H)
    extrude(amount=CUBE031_DEPTH)


with BuildPart() as union002:
    # cube028 → cube028 (new body)
    with BuildSketch(Plane.XY):
        with Locations((82.75, 27.45)):
            Rectangle(CUBE028_W, CUBE028_H)
    extrude(amount=CUBE028_DEPTH)

    # Matrix_Union003: union cube029, cube030, cube031
    add(cube029.part)
    add(cube030.part)
    add(cube031.part)


with BuildPart() as union002_1:
    # Matrix_Union003 placement: moved
    add(union002.part.moved(Location((1.2, 2.9, 1.2))))

    # union002: union Matrix_Union004, Matrix_Union005, cube042
    add(matrix_union004_1.part)
    add(matrix_union005_1.part)
    add(cube042.part)


with BuildPart() as difference001:
    # cube027 → cube027 (new body)
    with BuildSketch(Plane.XY):
        with Locations((114.75, 59.9)):
            Rectangle(CUBE027_W, CUBE027_H)
    extrude(amount=CUBE027_DEPTH)

    # difference001: cut union002
    add(union002_1.part, mode=Mode.SUBTRACT)


with BuildPart() as cube025:
    # cube025 → cube025 (new body)
    with BuildSketch(Plane(origin=(1.4, 57.8, 11.4), x_dir=(1, 0, 0), z_dir=(0, 0, 1))):
        with Locations((82.65, 28.9)):
            Rectangle(CUBE025_W, CUBE025_H)
    extrude(amount=CUBE025_DEPTH)


with BuildPart() as cube026:
    # cube026 → cube026 (new body)
    with BuildSketch(Plane(origin=(166.7, 1.4, 11.4), x_dir=(1, 0, 0), z_dir=(0, 0, 1))):
        with Locations((30.8, 36.7)):
            Rectangle(CUBE026_W, CUBE026_H)
    extrude(amount=CUBE026_DEPTH)


with BuildPart() as intersection:
    # cube024 → cube024 (new body)
    with BuildSketch(Plane(origin=(1.4, 1.4, 11.4), x_dir=(1, 0, 0), z_dir=(0, 0, 1))):
        with Locations((82.65, 28.2)):
            Rectangle(CUBE024_W, CUBE024_H)
    extrude(amount=CUBE024_DEPTH)

    # union001: union cube025, cube026
    add(cube025.part)
    add(cube026.part)

    # intersection: intersect difference001
    add(difference001.part, mode=Mode.INTERSECT)


with BuildPart() as fusion001:
    # cube019 → cube019 (new body)
    with BuildSketch(Plane(origin=(-1.4, -1.4, 22.8), x_dir=(1, 0, 0), z_dir=(0, 0, 1))):
        with Locations((116.15, 61.3)):
            Rectangle(CUBE019_W, CUBE019_H)
    extrude(amount=CUBE019_DEPTH)

    # Group: union cube020, cube021, cube022, cube023, intersection
    add(cube020.part)
    add(cube021.part)
    add(cube022.part)
    add(cube023.part)
    add(intersection.part)

    # Fusion001: union Extrude001
    add(extrude001.part)


solid = Compound([fusion.part, fusion001.part])
